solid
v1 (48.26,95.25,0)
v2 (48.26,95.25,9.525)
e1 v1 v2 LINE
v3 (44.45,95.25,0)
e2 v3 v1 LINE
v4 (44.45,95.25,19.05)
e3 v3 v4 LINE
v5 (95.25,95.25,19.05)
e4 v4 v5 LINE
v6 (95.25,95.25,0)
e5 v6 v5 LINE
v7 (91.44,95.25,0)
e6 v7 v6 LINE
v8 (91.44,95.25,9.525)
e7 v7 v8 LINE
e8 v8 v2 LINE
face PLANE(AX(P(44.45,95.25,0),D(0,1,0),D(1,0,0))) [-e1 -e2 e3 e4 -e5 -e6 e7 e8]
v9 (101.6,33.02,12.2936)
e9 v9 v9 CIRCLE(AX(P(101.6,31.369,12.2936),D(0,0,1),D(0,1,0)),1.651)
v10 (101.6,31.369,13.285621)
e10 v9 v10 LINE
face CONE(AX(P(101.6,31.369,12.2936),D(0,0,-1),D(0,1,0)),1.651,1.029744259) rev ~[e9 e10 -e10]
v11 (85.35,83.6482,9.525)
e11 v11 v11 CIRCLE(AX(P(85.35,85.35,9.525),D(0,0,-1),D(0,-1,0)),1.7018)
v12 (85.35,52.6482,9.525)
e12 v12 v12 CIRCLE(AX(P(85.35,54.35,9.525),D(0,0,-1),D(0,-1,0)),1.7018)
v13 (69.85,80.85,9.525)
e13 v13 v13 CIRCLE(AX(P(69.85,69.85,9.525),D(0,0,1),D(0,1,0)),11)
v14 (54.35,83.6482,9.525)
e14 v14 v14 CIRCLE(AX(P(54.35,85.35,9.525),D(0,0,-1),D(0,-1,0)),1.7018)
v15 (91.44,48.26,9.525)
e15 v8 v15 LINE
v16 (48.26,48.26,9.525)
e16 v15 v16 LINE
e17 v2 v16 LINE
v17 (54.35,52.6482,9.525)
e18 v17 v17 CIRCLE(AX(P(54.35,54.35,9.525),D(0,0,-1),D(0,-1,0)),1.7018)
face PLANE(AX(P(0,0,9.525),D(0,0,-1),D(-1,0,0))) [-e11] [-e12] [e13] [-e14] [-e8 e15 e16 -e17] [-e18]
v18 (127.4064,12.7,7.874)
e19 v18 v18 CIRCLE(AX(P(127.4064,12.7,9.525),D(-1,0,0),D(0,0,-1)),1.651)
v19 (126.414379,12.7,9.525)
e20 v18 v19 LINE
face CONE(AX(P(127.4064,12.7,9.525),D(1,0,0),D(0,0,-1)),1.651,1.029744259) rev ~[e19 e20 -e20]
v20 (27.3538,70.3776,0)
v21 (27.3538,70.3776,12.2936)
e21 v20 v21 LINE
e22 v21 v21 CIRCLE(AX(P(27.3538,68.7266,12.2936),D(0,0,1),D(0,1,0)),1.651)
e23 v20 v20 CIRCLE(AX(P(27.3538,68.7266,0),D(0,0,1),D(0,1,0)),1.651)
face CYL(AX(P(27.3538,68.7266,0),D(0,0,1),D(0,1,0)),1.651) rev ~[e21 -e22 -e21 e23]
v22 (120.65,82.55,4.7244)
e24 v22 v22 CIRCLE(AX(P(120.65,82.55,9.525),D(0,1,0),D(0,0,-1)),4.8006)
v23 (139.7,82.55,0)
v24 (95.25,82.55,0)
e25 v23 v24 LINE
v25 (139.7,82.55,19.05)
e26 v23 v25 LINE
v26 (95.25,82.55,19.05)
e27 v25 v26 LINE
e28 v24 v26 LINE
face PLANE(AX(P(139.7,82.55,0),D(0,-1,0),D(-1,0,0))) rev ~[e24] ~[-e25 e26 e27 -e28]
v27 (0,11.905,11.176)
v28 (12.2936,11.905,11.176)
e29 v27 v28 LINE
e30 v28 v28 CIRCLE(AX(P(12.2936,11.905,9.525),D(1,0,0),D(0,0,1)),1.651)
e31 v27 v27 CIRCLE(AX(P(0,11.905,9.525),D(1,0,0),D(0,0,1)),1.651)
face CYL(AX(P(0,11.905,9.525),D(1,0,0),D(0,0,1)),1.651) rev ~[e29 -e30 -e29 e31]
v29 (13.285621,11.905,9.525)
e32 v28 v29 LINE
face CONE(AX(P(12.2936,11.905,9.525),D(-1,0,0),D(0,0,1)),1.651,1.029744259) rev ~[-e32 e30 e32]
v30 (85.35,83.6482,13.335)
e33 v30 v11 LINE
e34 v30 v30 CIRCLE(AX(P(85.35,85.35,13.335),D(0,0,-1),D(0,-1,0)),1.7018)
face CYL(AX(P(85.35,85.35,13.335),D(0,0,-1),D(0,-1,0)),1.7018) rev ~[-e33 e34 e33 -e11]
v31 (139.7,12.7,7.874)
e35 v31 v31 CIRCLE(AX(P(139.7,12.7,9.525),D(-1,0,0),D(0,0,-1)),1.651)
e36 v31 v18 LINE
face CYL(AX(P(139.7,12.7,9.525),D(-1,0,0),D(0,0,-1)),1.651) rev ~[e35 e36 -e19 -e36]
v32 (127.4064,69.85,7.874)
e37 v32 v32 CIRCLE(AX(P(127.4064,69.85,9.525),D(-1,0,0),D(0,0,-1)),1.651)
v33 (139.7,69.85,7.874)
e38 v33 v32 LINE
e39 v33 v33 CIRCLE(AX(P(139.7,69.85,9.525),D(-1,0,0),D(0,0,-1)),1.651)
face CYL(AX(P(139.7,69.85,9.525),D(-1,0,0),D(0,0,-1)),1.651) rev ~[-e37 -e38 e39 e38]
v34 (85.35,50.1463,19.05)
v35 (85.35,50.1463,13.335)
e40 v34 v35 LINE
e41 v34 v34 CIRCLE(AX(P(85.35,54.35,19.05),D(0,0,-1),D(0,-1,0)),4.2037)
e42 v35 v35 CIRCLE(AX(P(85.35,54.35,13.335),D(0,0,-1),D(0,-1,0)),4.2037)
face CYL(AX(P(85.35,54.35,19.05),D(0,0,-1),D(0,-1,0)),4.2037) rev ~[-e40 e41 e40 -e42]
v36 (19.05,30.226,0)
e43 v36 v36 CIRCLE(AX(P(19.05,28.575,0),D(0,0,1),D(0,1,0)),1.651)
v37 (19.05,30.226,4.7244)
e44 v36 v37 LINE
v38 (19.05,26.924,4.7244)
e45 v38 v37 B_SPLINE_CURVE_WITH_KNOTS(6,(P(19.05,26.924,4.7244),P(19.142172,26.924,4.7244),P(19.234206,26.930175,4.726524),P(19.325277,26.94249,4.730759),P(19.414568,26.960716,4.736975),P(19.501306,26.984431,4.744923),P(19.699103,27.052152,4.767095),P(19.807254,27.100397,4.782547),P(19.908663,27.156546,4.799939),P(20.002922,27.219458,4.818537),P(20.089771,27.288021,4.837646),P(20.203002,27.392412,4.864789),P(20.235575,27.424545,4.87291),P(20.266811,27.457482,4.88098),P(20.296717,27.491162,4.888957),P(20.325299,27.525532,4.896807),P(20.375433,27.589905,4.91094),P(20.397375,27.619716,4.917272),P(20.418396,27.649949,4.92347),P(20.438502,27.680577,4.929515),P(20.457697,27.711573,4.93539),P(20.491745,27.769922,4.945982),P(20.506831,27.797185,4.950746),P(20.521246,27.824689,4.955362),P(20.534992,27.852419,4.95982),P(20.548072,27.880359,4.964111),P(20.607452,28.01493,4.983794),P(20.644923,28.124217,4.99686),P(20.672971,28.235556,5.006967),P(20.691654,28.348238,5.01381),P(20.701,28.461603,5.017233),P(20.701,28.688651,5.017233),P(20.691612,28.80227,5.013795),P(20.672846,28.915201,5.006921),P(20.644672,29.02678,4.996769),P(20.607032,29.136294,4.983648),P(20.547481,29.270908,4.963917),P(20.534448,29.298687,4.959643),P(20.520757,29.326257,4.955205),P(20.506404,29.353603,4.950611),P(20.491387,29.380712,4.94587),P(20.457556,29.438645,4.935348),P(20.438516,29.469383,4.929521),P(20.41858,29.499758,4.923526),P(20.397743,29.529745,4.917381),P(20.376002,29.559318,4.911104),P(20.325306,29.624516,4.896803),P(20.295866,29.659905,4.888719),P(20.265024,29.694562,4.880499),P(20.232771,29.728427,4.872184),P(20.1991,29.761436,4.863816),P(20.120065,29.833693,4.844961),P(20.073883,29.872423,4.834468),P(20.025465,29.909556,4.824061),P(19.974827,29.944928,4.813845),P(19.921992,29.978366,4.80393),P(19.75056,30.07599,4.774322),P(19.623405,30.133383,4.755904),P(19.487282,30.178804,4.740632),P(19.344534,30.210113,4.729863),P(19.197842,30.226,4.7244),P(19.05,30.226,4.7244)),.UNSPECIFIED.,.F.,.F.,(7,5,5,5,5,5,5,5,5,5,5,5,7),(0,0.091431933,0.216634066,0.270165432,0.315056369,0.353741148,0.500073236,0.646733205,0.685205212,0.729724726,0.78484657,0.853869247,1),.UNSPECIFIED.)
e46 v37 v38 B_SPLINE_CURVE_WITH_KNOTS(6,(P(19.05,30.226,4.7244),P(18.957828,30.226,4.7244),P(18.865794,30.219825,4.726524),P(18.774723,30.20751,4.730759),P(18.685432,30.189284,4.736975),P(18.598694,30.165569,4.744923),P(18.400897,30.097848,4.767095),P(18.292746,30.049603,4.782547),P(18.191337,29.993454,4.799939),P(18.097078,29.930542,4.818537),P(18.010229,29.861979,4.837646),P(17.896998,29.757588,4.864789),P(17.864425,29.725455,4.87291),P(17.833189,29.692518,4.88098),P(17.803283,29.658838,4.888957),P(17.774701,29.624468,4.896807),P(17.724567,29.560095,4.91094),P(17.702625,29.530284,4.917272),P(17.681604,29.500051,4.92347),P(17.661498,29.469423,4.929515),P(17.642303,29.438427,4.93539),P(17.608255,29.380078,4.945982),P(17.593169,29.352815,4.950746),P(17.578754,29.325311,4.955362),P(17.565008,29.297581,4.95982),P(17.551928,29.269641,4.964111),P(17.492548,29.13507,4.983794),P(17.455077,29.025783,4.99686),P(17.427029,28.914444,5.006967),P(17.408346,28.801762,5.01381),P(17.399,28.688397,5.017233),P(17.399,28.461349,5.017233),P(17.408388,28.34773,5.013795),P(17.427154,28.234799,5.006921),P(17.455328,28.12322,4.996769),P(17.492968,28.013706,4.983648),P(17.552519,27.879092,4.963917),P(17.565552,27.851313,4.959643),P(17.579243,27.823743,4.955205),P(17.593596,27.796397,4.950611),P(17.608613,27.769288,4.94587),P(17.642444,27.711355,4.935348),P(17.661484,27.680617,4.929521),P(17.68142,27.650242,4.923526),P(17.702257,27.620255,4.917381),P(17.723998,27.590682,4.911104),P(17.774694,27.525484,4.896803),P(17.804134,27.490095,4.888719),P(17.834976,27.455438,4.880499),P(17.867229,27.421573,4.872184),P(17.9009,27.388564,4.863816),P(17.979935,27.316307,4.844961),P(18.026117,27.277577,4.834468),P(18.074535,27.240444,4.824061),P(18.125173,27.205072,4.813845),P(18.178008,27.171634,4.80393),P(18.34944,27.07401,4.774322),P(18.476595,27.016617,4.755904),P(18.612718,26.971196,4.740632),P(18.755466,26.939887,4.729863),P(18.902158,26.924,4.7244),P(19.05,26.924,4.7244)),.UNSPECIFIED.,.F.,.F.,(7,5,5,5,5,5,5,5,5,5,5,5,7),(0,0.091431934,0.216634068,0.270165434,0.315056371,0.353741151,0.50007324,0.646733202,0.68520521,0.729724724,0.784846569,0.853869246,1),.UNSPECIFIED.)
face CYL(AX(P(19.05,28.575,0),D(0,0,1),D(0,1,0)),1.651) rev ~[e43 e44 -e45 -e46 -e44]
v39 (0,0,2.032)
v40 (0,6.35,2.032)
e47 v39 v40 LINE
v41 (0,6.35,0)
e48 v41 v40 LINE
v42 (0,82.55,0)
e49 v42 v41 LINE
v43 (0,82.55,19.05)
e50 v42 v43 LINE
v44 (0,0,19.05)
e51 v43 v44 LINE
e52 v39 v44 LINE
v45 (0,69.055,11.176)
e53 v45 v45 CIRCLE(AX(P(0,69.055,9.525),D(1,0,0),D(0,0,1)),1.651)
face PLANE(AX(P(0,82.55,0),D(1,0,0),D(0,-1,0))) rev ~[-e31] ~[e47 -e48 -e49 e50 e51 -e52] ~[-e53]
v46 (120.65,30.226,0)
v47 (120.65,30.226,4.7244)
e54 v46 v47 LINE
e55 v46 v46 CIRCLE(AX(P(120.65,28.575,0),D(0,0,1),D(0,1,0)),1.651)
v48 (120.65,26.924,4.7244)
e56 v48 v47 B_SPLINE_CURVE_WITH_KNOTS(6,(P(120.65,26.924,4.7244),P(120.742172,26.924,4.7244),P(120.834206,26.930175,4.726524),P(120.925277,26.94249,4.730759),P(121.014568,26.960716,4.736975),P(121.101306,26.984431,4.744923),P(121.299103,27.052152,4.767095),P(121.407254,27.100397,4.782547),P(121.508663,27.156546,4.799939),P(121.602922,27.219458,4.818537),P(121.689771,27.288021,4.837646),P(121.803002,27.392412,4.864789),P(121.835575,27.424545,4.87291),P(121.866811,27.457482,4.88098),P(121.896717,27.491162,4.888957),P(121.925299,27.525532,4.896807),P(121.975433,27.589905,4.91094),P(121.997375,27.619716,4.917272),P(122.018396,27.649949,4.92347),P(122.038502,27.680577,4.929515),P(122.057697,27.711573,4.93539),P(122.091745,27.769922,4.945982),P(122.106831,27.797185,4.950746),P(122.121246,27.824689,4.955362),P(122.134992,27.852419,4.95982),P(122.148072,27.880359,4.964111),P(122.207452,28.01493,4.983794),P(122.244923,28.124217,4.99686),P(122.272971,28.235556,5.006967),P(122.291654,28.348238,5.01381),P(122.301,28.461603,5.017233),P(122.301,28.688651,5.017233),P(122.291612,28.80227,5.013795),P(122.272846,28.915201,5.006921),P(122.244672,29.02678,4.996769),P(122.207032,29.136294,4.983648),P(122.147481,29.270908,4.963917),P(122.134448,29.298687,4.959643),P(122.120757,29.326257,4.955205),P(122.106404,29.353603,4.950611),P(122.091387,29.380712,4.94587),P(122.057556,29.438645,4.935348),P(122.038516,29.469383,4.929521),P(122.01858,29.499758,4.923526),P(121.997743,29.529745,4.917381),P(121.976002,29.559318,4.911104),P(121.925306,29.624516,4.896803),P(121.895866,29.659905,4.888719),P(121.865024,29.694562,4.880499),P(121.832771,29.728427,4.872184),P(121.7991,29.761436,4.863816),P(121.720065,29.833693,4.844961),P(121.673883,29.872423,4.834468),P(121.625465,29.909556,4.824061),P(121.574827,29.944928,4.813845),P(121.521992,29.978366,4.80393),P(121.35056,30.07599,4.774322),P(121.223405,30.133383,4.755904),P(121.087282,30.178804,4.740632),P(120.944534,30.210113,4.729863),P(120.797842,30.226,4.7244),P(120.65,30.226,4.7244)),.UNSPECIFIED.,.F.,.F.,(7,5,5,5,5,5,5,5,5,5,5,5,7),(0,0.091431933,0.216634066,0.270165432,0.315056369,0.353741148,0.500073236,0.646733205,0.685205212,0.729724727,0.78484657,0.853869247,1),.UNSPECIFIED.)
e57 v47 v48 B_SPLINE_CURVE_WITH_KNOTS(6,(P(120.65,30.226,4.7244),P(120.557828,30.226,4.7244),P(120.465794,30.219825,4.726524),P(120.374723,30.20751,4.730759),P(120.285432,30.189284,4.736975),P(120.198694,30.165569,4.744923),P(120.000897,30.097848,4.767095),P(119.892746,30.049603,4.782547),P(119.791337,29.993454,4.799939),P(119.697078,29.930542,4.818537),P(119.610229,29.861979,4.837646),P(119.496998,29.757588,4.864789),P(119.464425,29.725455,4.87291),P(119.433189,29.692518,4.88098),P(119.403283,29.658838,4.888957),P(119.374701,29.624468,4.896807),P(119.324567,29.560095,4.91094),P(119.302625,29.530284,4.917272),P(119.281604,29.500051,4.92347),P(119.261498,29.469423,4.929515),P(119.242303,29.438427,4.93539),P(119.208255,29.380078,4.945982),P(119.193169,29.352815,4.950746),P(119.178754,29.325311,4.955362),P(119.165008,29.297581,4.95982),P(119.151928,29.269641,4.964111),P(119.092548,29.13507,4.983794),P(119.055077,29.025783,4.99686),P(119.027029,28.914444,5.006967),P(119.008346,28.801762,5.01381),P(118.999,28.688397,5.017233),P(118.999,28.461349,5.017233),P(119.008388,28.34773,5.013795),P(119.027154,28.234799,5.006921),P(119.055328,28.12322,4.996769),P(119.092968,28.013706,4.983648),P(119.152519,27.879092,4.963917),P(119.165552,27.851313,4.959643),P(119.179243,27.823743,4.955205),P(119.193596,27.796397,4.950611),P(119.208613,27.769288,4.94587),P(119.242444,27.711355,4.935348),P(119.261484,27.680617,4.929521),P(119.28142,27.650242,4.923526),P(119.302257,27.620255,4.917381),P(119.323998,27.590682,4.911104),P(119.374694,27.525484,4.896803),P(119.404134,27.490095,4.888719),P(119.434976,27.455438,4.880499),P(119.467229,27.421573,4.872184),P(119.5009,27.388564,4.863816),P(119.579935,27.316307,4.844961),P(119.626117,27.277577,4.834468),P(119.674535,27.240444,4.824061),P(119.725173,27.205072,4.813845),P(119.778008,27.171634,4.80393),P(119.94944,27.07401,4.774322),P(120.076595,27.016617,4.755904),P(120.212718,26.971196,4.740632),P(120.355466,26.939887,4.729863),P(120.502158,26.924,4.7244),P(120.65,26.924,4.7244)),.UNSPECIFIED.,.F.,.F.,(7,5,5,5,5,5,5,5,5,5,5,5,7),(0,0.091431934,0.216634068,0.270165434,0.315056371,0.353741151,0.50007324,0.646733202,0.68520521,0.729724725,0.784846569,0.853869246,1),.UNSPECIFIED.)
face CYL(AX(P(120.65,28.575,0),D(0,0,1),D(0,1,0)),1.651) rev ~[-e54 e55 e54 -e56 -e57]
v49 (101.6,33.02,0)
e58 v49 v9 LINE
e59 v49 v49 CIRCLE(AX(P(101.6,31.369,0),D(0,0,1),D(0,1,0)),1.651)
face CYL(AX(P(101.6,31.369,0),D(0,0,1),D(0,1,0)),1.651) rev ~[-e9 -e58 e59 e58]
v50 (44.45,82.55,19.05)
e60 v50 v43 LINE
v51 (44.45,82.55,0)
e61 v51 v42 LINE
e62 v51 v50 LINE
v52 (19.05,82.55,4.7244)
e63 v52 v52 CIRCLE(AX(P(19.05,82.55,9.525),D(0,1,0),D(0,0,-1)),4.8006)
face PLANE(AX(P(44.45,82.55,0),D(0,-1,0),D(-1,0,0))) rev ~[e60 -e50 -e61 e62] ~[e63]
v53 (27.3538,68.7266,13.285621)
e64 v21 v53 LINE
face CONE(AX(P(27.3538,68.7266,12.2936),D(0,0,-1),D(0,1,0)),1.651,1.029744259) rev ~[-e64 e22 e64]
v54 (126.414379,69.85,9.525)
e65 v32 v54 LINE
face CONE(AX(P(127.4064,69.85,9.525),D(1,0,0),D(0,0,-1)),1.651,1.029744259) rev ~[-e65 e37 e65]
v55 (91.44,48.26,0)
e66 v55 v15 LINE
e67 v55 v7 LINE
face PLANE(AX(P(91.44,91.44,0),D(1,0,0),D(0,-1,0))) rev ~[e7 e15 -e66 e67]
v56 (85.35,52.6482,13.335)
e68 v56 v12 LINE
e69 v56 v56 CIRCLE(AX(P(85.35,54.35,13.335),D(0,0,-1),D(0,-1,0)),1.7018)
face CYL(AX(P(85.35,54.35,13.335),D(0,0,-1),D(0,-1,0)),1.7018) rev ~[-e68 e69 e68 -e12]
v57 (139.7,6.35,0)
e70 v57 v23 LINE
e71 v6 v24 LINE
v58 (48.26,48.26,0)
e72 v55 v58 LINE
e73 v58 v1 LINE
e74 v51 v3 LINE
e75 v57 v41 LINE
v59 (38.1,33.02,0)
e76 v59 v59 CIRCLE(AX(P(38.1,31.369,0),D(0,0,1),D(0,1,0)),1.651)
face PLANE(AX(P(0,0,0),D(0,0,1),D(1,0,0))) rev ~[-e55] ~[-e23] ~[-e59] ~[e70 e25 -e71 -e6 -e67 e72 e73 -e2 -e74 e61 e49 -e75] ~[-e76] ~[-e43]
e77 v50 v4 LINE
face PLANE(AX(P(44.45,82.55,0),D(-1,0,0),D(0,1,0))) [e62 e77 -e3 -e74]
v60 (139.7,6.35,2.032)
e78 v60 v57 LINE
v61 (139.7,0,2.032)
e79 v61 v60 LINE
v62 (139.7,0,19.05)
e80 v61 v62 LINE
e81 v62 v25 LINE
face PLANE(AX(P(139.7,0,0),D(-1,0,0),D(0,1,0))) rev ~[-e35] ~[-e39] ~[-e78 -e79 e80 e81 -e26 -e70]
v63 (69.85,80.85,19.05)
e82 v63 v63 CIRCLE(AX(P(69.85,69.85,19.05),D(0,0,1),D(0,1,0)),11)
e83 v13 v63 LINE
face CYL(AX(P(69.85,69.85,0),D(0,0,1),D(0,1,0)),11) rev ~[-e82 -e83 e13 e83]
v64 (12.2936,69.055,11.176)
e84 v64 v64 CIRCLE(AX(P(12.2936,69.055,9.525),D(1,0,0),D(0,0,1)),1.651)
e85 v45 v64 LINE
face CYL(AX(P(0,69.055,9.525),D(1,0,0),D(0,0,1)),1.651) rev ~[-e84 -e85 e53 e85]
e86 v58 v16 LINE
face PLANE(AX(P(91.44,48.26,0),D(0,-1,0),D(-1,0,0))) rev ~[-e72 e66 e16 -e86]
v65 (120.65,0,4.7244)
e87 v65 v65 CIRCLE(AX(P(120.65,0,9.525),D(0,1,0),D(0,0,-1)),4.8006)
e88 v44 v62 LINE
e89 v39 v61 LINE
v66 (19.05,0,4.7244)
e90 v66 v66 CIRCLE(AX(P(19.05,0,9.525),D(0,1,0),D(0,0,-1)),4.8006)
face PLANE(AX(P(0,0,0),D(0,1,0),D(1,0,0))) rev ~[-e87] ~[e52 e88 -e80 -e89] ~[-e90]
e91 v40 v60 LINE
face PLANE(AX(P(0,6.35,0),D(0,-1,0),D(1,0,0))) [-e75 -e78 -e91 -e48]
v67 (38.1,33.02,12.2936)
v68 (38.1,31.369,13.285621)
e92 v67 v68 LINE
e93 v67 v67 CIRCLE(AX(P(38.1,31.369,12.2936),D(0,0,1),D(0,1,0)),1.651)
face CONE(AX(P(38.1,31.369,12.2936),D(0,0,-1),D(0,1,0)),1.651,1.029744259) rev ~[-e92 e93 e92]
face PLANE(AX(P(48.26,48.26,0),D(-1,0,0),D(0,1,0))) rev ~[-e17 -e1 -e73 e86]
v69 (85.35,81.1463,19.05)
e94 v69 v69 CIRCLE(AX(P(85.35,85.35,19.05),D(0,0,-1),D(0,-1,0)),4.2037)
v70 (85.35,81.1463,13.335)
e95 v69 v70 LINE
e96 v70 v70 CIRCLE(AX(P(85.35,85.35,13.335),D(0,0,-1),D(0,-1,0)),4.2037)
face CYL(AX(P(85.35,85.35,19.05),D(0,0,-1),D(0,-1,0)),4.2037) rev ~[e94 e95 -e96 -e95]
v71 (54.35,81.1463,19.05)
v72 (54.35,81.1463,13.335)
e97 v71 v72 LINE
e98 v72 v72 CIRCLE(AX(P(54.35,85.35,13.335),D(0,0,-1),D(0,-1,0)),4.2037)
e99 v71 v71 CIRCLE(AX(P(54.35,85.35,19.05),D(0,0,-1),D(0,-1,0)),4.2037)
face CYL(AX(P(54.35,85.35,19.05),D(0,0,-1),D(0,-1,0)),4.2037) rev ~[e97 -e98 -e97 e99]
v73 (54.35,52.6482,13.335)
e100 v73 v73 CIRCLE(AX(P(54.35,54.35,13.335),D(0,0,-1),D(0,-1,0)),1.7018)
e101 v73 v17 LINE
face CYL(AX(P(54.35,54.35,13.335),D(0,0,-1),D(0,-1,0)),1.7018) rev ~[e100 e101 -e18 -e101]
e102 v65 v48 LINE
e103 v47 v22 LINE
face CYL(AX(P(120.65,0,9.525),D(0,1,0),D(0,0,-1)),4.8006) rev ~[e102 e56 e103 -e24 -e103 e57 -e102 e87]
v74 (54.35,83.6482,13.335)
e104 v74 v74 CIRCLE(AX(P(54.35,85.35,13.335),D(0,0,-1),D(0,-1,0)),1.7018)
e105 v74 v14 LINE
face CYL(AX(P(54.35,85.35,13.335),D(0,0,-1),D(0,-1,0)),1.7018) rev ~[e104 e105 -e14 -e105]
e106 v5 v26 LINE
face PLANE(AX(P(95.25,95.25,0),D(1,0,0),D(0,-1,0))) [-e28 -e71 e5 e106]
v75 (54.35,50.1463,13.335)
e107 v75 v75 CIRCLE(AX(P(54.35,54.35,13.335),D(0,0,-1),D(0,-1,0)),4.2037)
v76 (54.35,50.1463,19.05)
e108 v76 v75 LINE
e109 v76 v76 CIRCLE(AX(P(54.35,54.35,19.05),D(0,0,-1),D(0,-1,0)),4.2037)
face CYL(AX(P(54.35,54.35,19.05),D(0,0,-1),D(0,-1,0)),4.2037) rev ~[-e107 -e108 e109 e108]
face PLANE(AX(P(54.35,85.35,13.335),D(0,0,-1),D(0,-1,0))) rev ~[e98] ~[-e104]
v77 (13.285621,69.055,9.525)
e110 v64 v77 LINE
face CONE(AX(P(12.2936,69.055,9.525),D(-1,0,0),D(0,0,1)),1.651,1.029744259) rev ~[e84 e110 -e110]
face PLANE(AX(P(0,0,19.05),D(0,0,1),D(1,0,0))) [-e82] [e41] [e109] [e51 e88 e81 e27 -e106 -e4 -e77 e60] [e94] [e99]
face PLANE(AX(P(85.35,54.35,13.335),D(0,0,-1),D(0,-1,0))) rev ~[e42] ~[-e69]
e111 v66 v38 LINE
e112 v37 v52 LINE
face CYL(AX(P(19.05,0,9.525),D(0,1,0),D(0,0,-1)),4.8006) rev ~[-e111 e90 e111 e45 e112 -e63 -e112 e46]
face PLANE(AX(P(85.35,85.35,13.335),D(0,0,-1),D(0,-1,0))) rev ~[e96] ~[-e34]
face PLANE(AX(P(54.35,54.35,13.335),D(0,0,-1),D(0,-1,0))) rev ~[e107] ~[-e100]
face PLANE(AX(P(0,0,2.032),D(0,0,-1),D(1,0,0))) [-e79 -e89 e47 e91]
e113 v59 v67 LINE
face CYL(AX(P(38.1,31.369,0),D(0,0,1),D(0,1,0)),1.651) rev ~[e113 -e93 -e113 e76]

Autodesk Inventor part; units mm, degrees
ref_plane "YZ Plane" through (0, 0, 0) normal (1, 0, 0) x (0, 1, 0)
ref_plane "XZ Plane" through (0, 0, 0) normal (0, 1, 0) x (-1, 0, 0)
ref_plane "XY Plane" through (0, 0, 0) normal (0, 0, 1) x (1, 0, 0)
sketch "Sketch1" plane through (0, 0, 0) normal (0, 0, 1) x (1, 0, 0)
  line L0 (0, 0) -> (139.7, 0)
  line L1 (139.7, 0) -> (139.7, 82.55)
  line L2 (139.7, 82.55) -> (0, 82.55)
  line L3 (0, 82.55) -> (0, 0)
  line L4 (95.25, 82.55) -> (44.45, 82.55)
  line L5 (44.45, 82.55) -> (44.45, 95.25)
  line L6 (44.45, 95.25) -> (95.25, 95.25)
  line L7 (95.25, 95.25) -> (95.25, 82.55)
  point P0 (69.85, 82.55)
  dimension "d0" = 139.7
  dimension "d1" = 82.55
  dimension "d2" = 12.7
  dimension "d3" = 50.8
  dimension "d4" = 25.4
  dimension "d62" = 69.85
extrude "Extrusion1" add sketch "Sketch1" along normal blind 19.05
sketch "Sketch2" plane through (0, 0, 0) normal (0, 0, -1) x (-1, 0, 0)
  line L0 (-44.45, 82.55) -> (0, 82.55) projected
  line L1 (-139.7, 0) -> (-139.7, 82.55) projected
  point P0 (0, 0)
  point P1 (-69.85, 69.85)
  dimension "d7" = 12.7
  dimension "d8" = 69.85
hole "Hole1" at (69.85, 69.85, 0) direction (0, 0, 1) diameter 22 depth 25.4 tip angle 118
sketch "Sketch3" plane through (0, 0, 0) normal (0, 0, -1) x (-1, 0, 0)
  line L0 (-91.44, 48.26) -> (-48.26, 48.26)
  line L1 (-48.26, 48.26) -> (-48.26, 91.44)
  line L2 (-48.26, 91.44) -> (-91.44, 91.44)
  line L3 (-91.44, 91.44) -> (-91.44, 48.26)
  line L4 (-91.44, 48.26) -> (-48.26, 91.44) construction
  line L5 (-48.26, 48.26) -> (-91.44, 91.44) construction
  line L6 (-44.45, 82.55) -> (0, 82.55) projected
  line L7 (-95.25, 95.25) -> (-44.45, 95.25) projected
  line L8 (-91.44, 91.44) -> (-48.26, 91.44)
  line L9 (-48.26, 91.44) -> (-48.26, 95.25)
  line L10 (-48.26, 95.25) -> (-91.44, 95.25)
  line L11 (-91.44, 95.25) -> (-91.44, 91.44)
  line L12 (-139.7, 0) -> (-139.7, 82.55) projected
  point P0 (0, 0)
  point P1 (-69.85, 69.85)
  dimension "d16" = 12.7
  dimension "d17" = 43.18
  dimension "d18" = 43.18
  dimension "d21" = 69.85
  dimension "d22" = 43.18
extrude "Extrusion2" cut sketch "Sketch3" against normal blind 9.525
sketch "Sketch4" plane through (0, 0, 19.05) normal (0, 0, 1) x (1, 0, 0)
  line L0 (54.35, 54.35) -> (85.35, 54.35)
  line L1 (85.35, 54.35) -> (85.35, 85.35)
  line L2 (85.35, 85.35) -> (54.35, 85.35)
  line L3 (54.35, 85.35) -> (54.35, 54.35)
  line L4 (54.35, 54.35) -> (85.35, 85.35) construction
  line L5 (85.35, 54.35) -> (54.35, 85.35) construction
  line L6 (139.7, 82.55) -> (95.25, 82.55) projected
  line L7 (139.7, 0) -> (139.7, 82.55) projected
  point P0 (0, 0)
  point P1 (69.85, 69.85)
  dimension "d23" = 12.7
  dimension "d24" = 69.85
  dimension "d25" = 31
  dimension "d26" = 31
hole "Hole2" at (54.35, 85.35, 19.05) at (54.35, 54.35, 19.05) at (85.35, 85.35, 19.05) at (85.35, 54.35, 19.05) direction (0, 0, -1) diameter 3.4036 end through all counterbore diameter 8.4074 counterbore depth 5.715 clearance for "Hex Head Machine Screw" size "M3" standard "Ansi Metric M Profile"
sketch "Sketch5" plane through (0, 0, 0) normal (0, -1, 0) x (1, 0, 0)
  line L0 (120.65, 9.525) -> (19.05, 9.525)
  line L1 (0, 0) -> (139.7, 0) projected
  line L2 (139.7, 0) -> (139.7, 19.05) projected
  dimension "d34" = 101.6
  dimension "d35" = 9.525
  dimension "d36" = 19.05
hole "Hole3" at (120.65, 0, 9.525) at (19.05, 0, 9.525) direction (0, 1, 0) diameter 9.6012 end through all
sketch "Sketch6" plane through (0, 0, 0) normal (0, 0, -1) x (-1, 0, 0)
  line L0 (-120.65, 28.575) -> (-19.05, 28.575)
  line L1 (-44.45, 82.55) -> (0, 82.55) projected
  line L2 (0, 82.55) -> (0, 0) projected
  dimension "d44" = 101.6
  dimension "d45" = 53.975
  dimension "d46" = 19.05
hole "Hole4" at (120.65, 28.575, 0) at (19.05, 28.575, 0) direction (0, 0, 1) diameter 3.302 depth 12.2936 tip angle 118 thread size "8-32 UNC" class "2B" standard "ANSI Unified Screw Threads"
sketch "Sketch7" plane through (0, 0, 0) normal (-1, 0, 0) x (0, 0, 1)
  line L0 (9.525, 95.25) -> (9.525, 48.26) projected
  line L1 (9.525, 69.055) -> (9.525, 11.905)
  point P0 (0, 0)
  point P1 (9.525, 89.85)
  dimension "d54" = 57.15
hole "Hole5" at (0, 69.055, 9.525) at (0, 11.905, 9.525) direction (1, 0, 0) diameter 3.302 depth 12.2936 tip angle 118 thread size "8-32 UNC" class "2B" standard "ANSI Unified Screw Threads"
sketch "Sketch8" plane through (139.7, 0, 0) normal (1, 0, 0) x (0, 0, -1)
  line L0 (-19.05, 82.55) -> (-19.05, 0) projected
  line L1 (0, 0) -> (-19.05, 0) projected
  point P0 (-9.525, 12.7)
  point P1 (-9.525, 69.85)
  dimension "d87" = 57.15
  dimension "d88" = 9.525
  dimension "d89" = 9.525
  dimension "d90" = 12.7
sketch "Sketch9" plane through (0, 0, 0) normal (0, 0, -1) x (-1, 0, 0)
  line L0 (-139.7, 41.275) -> (0, 41.275)
  line L1 (0, 0) -> (-139.7, 0) projected
  line L2 (-101.6, 31.369) -> (-38.1, 31.369)
  line L3 (0, 82.55) -> (0, 0) projected
  line L4 (-44.45, 82.55) -> (0, 82.55) projected
  line L5 (0, 82.55) -> (-31.75, 41.275)
  line L6 (-17.1517, 76.4998) -> (-38.7838, 52.9606)
  point P0 (-27.3538, 68.7266)
  dimension "d63" = 41.275
  dimension "d64" = 9.906
  dimension "d65" = 139.7
  dimension "d66" = 0
  dimension "d67" = 31.75
  dimension "d68" = 9.906
  dimension "d69" = 12.7
  dimension "d71" = 63.5
  dimension "d72" = 38.1
  dimension "d101" = 11.43
hole "Hole6" at (27.3538, 68.7266, 0) at (38.1, 31.369, 0) at (101.6, 31.369, 0) direction (0, 0, 1) diameter 3.302 depth 12.2936 tip angle 118 thread size "8-32 UNC" class "2B" standard "ANSI Unified Screw Threads"
hole "Hole8" at (139.7, 12.7, 9.525) at (139.7, 69.85, 9.525) direction (-1, 0, 0) diameter 3.302 depth 12.2936 tip angle 118 thread size "8-32 UNC" class "2B" standard "ANSI Unified Screw Threads"
sketch "Sketch10" plane through (0, 0, 0) normal (0, -1, 0) x (1, 0, 0)
  point P0 (0, 0)
sketch "Sketch11" plane through (0, 0, 0) normal (0, -1, 0) x (1, 0, 0)
  line L0 (139.7, 0) -> (95.25, 0) projected
  line L1 (0, 0) -> (0, 19.05) projected
  line L2 (139.7, 0) -> (0, 0)
  line L3 (0, 0) -> (0, 2.032)
  line L4 (0, 2.032) -> (139.7, 2.032)
  line L5 (139.7, 2.032) -> (139.7, 0)
  dimension "d98" = 2.032
extrude "Extrusion3" cut sketch "Sketch11" against normal blind 6.35
properties part number "back mount"
